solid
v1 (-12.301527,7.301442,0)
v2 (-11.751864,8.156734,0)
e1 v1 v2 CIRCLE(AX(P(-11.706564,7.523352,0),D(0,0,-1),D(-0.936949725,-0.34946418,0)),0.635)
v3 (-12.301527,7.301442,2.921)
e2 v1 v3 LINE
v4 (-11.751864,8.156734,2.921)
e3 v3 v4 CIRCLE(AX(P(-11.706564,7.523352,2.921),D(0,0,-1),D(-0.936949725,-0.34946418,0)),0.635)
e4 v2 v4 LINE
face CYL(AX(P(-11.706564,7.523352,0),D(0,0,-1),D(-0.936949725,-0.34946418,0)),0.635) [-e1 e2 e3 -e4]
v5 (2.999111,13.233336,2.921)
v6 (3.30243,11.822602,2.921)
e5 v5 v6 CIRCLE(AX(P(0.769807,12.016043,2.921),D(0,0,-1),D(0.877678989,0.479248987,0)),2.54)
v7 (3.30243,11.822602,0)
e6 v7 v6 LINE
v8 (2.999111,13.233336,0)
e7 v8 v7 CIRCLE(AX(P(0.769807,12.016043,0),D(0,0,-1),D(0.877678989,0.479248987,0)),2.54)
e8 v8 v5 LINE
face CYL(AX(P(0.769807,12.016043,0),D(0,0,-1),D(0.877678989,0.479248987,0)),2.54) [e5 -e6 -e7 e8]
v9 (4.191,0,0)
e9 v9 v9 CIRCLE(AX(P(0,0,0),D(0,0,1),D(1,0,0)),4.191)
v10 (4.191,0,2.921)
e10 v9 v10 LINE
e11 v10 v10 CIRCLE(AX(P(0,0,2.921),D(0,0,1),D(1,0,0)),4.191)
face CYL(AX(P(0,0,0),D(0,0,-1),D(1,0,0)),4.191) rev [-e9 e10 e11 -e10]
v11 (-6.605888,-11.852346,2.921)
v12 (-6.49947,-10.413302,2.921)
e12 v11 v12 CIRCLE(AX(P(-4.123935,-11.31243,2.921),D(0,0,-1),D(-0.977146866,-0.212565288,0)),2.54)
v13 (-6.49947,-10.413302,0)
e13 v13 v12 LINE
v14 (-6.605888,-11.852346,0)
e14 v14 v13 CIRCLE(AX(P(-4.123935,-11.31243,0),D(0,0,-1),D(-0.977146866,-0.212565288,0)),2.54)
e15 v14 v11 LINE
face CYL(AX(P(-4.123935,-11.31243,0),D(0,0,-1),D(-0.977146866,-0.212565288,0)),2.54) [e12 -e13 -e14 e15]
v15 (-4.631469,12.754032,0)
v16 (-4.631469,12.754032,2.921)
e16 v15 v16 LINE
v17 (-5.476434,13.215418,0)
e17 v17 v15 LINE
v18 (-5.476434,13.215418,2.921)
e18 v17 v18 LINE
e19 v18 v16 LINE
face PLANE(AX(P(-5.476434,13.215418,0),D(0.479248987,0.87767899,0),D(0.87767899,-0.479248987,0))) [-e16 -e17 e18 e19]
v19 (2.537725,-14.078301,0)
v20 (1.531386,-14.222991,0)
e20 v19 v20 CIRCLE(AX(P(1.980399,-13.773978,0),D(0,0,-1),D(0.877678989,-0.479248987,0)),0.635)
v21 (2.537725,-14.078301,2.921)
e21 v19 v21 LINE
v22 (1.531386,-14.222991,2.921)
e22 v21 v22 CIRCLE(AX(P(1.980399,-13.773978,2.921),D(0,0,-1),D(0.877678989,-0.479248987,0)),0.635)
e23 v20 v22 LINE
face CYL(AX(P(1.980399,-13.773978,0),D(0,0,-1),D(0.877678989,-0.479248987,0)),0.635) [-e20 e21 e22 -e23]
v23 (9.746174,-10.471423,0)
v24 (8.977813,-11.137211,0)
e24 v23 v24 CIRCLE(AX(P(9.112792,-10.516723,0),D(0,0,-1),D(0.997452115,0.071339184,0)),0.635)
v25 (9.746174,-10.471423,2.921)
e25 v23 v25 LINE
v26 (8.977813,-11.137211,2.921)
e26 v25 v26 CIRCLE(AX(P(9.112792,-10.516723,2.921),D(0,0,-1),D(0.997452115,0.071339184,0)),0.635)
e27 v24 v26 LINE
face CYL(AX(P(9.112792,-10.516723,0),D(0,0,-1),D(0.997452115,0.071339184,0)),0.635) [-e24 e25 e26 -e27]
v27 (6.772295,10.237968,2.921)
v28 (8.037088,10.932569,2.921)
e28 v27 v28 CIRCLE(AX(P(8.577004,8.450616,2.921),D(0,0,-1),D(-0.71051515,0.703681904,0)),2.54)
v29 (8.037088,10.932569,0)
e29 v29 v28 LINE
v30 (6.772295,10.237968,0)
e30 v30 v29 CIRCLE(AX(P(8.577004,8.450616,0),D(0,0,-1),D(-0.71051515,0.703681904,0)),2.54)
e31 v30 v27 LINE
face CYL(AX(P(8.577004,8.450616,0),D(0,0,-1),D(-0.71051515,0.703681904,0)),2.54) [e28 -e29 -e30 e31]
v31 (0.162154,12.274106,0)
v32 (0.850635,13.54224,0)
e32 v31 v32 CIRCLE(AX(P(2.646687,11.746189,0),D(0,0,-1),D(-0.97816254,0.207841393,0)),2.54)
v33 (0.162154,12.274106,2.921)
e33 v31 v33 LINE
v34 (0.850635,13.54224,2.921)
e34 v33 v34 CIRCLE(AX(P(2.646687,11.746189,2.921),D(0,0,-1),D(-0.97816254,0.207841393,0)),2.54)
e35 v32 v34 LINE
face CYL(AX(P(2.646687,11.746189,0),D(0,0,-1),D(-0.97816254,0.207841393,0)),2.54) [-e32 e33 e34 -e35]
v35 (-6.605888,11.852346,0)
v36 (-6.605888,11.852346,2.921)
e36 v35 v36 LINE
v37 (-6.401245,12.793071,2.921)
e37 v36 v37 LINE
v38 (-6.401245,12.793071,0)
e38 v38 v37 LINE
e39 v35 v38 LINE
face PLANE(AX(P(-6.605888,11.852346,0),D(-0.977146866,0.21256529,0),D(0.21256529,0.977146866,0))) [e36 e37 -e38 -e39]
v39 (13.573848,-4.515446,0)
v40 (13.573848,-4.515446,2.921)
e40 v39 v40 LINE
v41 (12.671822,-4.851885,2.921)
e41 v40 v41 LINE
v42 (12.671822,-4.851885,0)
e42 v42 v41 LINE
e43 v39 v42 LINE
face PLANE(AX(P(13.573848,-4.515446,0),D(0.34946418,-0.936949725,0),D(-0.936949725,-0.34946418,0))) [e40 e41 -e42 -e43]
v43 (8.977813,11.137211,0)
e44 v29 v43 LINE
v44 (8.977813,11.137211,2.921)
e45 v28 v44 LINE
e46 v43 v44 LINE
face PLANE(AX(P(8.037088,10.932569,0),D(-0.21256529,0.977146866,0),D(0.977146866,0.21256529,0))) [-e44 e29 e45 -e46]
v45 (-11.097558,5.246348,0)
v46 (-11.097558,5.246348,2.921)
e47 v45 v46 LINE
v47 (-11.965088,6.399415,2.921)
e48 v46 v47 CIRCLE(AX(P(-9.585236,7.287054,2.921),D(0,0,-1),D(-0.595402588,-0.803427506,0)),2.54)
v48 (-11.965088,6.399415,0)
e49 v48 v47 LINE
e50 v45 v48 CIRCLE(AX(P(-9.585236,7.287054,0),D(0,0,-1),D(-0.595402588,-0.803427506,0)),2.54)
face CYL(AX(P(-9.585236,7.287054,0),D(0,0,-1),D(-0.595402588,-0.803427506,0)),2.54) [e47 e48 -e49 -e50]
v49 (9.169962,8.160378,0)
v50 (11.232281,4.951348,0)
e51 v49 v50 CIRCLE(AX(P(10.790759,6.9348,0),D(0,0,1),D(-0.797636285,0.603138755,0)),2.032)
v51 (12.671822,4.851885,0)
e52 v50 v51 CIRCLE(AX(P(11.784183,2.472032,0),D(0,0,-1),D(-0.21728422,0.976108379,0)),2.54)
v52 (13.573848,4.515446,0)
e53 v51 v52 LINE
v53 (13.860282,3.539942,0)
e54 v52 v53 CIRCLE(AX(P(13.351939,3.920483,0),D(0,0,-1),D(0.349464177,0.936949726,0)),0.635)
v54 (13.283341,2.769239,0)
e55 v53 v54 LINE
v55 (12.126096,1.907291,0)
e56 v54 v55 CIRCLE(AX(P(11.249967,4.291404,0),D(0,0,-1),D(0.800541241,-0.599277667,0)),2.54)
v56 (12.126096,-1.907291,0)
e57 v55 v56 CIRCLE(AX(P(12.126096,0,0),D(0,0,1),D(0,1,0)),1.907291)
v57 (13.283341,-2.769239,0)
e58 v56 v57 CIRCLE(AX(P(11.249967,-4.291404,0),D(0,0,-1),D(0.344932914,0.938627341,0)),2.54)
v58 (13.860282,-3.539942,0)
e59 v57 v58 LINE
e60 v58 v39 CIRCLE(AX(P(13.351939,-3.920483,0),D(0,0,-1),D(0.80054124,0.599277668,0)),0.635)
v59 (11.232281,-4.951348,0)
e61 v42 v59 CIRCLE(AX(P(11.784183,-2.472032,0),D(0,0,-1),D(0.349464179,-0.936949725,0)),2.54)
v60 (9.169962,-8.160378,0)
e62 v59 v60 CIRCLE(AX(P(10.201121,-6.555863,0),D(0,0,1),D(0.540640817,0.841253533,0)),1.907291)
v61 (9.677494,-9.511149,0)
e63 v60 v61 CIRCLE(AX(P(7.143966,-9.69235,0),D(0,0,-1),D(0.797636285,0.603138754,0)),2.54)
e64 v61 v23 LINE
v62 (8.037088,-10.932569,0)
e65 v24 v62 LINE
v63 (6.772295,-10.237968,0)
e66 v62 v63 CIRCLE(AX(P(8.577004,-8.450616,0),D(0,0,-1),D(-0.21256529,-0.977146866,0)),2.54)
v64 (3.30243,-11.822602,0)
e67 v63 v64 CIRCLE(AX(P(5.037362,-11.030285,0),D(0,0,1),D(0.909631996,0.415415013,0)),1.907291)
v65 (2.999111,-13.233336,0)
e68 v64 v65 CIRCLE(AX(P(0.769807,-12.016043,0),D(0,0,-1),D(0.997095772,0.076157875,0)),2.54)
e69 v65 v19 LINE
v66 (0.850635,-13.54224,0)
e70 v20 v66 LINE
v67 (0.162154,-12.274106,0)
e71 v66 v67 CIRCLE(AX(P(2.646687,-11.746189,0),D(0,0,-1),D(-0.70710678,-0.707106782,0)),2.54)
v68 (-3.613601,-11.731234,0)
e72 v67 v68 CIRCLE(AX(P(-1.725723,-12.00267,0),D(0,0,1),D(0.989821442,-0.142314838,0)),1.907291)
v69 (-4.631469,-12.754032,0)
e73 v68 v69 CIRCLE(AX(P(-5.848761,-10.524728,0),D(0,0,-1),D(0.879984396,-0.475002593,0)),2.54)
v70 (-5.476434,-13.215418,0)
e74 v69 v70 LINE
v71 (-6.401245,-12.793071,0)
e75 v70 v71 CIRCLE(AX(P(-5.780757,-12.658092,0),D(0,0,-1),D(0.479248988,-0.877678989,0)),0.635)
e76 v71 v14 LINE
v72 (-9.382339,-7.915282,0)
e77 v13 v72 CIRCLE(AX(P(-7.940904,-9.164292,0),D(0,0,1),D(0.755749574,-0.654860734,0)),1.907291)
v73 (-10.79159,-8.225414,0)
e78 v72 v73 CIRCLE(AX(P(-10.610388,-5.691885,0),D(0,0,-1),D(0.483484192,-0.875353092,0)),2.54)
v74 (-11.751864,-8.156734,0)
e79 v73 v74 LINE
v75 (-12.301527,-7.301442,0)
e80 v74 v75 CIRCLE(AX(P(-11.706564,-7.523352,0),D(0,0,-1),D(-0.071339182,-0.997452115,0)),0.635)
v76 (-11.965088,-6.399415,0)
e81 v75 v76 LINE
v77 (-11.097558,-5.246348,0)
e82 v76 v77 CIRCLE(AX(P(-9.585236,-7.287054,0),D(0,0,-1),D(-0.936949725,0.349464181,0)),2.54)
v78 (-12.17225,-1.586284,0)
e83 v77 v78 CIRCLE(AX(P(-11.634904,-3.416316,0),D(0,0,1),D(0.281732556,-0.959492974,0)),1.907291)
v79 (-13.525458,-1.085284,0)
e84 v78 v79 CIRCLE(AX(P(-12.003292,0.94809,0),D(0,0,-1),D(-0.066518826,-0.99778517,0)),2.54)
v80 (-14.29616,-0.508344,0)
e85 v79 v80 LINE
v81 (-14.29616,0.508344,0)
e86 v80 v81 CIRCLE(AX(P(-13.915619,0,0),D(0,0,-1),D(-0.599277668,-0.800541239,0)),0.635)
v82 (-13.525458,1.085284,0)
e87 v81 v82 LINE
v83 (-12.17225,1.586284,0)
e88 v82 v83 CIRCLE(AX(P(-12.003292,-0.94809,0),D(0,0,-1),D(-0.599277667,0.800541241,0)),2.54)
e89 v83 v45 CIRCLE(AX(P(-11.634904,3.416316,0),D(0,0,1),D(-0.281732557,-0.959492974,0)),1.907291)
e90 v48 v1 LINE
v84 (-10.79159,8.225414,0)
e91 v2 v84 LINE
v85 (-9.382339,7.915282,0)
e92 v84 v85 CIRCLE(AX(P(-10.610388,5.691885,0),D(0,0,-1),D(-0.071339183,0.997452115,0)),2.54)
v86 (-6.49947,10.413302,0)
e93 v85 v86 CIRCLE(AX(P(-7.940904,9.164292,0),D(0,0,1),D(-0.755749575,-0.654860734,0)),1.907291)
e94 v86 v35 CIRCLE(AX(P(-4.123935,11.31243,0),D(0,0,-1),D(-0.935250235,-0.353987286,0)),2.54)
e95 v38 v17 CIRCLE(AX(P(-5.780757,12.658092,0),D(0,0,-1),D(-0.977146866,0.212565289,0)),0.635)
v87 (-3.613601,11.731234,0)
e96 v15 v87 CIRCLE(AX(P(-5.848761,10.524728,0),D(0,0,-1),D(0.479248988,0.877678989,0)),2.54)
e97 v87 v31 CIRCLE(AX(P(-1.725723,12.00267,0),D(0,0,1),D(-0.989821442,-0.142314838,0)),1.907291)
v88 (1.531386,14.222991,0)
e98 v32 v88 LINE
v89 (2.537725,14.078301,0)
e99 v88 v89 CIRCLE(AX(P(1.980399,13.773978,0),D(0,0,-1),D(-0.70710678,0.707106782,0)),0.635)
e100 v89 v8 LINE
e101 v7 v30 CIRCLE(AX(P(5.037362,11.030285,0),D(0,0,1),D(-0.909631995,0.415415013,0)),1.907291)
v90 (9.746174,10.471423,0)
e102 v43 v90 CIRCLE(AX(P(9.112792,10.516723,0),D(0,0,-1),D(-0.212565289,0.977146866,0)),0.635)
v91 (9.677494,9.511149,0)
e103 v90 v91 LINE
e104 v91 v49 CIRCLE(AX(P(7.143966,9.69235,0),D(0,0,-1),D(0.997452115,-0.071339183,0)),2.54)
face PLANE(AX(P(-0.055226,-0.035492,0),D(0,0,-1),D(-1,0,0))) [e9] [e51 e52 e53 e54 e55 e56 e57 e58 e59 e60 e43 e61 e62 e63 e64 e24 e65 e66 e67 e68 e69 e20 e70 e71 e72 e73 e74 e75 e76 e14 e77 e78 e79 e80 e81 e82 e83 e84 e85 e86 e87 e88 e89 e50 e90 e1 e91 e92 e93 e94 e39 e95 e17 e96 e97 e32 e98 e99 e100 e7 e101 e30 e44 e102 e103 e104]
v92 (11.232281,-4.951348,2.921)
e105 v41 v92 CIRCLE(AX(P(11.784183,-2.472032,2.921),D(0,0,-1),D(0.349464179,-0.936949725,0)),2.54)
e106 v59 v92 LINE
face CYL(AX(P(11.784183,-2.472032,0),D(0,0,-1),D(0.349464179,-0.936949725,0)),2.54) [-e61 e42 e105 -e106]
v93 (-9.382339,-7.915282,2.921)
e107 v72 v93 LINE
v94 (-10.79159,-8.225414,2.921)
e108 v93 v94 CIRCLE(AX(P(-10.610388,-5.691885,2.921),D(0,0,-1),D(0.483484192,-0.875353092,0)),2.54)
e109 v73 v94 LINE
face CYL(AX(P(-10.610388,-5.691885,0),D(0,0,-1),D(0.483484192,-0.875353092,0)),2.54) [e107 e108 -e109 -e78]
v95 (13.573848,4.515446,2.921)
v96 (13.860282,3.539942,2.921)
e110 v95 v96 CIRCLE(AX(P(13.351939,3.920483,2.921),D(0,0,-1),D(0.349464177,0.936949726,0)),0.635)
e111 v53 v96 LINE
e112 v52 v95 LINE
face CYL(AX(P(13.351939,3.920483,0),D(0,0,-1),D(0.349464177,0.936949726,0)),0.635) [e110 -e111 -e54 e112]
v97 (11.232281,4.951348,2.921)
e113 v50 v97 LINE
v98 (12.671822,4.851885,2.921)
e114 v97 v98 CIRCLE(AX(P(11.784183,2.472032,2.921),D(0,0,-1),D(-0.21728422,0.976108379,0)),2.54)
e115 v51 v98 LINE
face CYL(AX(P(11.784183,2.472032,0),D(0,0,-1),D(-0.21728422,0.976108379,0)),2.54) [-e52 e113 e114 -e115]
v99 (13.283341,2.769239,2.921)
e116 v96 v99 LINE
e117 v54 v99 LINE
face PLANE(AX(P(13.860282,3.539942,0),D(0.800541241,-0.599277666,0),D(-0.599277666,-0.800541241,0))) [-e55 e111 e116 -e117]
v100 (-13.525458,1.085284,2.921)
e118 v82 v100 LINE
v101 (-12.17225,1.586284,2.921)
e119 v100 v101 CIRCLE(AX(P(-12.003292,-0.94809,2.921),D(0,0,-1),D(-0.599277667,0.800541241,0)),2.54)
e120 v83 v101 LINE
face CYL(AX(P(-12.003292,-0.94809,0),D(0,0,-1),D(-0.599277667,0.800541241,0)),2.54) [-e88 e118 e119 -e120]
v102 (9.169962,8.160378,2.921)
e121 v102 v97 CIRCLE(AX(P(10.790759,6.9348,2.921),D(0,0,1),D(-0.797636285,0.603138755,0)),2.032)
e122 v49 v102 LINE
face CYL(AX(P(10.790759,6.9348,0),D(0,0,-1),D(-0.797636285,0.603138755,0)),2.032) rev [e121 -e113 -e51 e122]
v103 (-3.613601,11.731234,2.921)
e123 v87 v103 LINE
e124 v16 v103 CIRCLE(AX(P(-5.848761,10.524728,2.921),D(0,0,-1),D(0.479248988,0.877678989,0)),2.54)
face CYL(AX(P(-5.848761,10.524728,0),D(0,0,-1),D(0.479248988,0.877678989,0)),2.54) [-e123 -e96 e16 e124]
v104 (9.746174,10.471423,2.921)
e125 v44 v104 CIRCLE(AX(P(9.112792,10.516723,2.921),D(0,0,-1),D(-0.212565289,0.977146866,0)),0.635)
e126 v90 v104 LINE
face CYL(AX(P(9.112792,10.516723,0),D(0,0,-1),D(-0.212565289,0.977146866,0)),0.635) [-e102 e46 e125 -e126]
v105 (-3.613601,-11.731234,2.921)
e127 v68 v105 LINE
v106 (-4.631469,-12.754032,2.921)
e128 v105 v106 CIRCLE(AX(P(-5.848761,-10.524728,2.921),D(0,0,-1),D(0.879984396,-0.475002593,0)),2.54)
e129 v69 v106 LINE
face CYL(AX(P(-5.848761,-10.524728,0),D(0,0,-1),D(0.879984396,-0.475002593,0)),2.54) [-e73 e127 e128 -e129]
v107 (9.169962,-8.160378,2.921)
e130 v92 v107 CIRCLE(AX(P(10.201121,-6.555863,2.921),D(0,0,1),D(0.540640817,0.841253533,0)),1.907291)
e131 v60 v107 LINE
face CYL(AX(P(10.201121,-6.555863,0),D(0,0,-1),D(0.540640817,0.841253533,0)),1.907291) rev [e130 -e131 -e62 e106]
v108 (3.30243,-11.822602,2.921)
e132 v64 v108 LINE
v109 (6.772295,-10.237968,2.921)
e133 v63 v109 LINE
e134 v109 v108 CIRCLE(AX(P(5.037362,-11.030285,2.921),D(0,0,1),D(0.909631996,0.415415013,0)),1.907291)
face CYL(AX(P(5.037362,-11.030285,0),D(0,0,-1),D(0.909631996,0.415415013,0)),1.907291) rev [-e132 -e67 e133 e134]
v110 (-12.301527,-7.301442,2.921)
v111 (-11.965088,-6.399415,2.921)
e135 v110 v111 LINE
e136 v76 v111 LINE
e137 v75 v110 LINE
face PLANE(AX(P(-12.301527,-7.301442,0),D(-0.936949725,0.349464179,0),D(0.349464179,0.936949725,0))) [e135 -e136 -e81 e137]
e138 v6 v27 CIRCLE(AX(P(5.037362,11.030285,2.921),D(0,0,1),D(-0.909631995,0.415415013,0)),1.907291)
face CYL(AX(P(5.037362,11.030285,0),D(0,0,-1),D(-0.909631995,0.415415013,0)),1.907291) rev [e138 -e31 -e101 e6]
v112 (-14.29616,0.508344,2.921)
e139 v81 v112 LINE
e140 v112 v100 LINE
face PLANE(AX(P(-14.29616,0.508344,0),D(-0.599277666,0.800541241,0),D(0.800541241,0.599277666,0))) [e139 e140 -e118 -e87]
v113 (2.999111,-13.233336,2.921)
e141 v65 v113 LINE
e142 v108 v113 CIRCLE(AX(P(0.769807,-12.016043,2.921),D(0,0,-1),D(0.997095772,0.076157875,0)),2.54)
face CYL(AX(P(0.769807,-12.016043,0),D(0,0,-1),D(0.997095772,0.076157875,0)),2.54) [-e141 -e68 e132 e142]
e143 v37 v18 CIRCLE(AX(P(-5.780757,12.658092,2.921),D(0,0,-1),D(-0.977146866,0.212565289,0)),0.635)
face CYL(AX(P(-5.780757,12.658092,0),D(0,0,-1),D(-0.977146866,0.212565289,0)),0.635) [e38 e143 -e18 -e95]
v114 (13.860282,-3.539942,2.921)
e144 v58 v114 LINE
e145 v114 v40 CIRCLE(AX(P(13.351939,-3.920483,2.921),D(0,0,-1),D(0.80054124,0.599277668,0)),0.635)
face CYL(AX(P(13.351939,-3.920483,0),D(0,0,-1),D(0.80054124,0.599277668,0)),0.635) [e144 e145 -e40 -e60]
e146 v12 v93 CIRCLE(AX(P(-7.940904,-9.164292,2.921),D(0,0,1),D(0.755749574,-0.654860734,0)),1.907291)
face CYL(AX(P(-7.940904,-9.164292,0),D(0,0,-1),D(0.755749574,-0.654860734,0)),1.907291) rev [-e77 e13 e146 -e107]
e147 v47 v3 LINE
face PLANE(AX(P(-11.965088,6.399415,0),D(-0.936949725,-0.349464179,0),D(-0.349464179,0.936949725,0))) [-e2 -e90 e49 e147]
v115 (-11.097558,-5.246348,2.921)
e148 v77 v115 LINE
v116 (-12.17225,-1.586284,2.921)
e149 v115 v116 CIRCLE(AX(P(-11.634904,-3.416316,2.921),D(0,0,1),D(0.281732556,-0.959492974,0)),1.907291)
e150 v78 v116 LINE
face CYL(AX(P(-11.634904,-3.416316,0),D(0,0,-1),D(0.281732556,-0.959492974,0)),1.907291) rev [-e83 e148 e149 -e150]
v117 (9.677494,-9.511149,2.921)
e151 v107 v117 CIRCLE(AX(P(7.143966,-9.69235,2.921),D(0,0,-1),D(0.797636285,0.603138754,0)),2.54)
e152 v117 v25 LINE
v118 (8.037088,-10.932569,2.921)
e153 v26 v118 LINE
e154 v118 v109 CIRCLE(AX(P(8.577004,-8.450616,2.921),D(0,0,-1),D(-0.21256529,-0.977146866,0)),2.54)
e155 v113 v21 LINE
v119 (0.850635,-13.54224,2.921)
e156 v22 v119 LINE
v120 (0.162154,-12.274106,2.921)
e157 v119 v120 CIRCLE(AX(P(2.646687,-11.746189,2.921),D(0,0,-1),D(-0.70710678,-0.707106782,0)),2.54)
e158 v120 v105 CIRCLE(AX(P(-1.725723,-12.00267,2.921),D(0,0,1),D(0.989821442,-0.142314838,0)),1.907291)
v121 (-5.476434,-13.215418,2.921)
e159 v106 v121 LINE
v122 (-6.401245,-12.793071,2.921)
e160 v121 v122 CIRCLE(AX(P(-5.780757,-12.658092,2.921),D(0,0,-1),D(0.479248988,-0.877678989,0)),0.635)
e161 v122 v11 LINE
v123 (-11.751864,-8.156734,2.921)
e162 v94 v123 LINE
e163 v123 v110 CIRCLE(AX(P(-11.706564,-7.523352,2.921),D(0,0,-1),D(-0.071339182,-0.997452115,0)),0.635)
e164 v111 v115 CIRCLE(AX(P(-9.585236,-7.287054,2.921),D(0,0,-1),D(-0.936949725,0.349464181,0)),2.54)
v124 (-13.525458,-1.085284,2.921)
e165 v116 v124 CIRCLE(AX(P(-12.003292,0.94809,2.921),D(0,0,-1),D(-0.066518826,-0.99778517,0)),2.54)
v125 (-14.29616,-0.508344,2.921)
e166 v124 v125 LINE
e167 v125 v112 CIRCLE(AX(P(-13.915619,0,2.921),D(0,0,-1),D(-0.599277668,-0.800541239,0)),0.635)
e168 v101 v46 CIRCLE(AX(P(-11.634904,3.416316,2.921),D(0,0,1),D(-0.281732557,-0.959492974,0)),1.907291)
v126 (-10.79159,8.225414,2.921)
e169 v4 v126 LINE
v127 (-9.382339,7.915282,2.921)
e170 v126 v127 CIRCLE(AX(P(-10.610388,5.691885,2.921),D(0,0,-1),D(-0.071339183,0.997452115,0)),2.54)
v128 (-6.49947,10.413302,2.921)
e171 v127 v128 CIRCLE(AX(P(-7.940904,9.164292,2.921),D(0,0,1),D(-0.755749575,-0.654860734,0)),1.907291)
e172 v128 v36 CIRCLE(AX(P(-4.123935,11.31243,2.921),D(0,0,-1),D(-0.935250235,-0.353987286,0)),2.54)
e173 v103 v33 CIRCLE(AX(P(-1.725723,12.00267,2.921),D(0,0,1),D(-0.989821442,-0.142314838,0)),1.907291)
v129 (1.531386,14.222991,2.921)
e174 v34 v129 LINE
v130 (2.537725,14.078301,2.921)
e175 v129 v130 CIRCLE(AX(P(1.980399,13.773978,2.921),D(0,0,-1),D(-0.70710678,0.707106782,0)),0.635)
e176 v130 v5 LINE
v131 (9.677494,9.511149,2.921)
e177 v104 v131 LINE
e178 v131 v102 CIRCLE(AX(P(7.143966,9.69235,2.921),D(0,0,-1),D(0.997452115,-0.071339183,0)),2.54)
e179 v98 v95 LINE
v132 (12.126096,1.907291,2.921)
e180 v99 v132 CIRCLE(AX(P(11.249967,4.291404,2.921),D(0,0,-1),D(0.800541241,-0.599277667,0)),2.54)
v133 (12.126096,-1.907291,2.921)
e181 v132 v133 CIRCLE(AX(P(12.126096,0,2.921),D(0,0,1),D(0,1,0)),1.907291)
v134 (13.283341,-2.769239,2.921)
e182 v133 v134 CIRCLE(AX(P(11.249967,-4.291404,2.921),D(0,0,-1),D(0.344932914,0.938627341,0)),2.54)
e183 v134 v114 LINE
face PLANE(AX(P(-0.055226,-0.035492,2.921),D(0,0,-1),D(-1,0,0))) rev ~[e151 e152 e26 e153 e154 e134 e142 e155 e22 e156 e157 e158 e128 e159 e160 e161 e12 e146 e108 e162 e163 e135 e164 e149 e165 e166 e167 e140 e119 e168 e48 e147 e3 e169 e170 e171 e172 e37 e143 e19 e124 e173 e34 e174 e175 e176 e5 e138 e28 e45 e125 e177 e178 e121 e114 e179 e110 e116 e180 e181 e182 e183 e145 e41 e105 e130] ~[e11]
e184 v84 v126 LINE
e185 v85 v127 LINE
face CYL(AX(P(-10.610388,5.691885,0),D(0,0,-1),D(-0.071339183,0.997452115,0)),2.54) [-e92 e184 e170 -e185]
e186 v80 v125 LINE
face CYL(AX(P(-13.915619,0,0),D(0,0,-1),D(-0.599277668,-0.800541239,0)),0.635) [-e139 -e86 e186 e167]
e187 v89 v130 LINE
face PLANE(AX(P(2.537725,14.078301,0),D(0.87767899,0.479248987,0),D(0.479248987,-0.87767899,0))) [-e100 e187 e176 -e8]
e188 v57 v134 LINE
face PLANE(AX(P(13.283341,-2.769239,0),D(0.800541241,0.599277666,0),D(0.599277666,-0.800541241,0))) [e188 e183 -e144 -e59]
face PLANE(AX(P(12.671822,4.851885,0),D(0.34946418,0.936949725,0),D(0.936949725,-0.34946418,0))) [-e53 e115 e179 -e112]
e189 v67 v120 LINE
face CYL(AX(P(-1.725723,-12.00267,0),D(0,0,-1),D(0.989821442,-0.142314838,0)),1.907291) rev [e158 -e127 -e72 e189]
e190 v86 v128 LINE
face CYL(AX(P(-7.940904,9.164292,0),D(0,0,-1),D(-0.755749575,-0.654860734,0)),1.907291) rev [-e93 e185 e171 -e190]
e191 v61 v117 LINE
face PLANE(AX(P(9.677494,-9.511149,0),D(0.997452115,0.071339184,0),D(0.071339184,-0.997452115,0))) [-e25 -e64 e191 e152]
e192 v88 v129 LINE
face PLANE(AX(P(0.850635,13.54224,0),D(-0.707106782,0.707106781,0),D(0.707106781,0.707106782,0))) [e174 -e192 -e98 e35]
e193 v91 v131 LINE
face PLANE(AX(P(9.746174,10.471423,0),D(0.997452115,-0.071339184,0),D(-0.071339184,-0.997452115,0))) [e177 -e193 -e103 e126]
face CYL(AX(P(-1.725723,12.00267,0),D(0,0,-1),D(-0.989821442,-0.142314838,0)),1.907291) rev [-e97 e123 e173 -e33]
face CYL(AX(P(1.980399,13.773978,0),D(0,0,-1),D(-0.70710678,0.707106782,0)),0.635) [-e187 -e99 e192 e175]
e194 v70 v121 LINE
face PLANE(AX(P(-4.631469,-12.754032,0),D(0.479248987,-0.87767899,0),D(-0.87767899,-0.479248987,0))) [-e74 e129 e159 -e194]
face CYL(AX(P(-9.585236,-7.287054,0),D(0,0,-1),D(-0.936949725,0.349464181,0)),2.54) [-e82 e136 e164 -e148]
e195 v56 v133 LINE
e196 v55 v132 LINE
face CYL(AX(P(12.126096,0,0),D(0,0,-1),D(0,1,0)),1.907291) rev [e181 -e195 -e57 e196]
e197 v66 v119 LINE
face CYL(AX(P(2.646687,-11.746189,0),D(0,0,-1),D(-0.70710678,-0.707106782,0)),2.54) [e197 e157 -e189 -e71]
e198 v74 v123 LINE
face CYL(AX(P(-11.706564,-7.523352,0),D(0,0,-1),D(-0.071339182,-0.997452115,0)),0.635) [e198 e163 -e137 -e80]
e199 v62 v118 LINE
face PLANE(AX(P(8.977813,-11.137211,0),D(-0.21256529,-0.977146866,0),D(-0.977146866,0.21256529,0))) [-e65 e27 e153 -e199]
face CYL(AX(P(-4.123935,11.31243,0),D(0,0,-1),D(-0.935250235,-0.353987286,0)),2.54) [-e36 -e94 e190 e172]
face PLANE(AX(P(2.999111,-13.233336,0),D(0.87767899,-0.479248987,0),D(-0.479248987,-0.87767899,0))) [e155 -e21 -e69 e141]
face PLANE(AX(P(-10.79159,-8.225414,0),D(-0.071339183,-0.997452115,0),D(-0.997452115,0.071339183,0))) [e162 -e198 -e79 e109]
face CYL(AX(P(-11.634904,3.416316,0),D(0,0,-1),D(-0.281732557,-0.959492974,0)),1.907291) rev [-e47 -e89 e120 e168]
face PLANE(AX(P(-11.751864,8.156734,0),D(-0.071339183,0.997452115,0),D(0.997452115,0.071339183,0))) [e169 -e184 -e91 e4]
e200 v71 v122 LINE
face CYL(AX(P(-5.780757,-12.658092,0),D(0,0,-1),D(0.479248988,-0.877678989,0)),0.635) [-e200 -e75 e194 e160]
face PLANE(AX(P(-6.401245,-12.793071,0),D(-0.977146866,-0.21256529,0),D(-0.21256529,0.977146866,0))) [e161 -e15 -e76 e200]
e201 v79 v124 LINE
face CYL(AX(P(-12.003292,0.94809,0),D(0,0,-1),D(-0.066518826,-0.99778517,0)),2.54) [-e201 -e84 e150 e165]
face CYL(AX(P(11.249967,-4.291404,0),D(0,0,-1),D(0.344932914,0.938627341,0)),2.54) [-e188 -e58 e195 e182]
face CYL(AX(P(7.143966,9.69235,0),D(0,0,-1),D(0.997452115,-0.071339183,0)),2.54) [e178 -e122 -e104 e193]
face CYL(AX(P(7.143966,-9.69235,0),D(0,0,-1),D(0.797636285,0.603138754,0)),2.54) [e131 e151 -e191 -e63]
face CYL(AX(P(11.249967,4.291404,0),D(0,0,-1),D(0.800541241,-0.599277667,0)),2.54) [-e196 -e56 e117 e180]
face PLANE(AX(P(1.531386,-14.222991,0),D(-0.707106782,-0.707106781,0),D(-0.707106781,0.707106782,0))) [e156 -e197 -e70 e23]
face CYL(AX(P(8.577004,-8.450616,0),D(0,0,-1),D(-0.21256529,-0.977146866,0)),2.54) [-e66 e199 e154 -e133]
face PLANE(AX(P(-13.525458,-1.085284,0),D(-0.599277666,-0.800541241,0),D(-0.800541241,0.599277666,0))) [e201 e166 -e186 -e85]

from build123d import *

# Parameters (mm, degrees)
SKETCH1_R           = 4.191
BOSS_EXTRUDE1_DEPTH = 2.921


with BuildPart() as part:
    # Sketch1 → Boss-Extrude1 (new body)
    with BuildSketch(Plane.XY):
        with BuildLine():
            Line((8.037087805, 10.932568983), (8.977813448, 11.137211321))
            ThreePointArc((8.977813448, 11.137211321), (9.528628972, 10.996624041), (9.746174499, 10.471422679))
            Line((9.746174499, 10.471422679), (9.677494343, 9.511148627))
            ThreePointArc((9.677494343, 9.511148627), (9.521666859, 8.798964182), (9.169962135, 8.160377715))
            ThreePointArc((9.169962135, 8.160377715), (9.081331887, 5.836217624), (11.232280603, 4.95134754))
            ThreePointArc((11.232280603, 4.95134754), (11.959262708, 5.005991004), (12.671821542, 4.851884559))
            Line((12.671821542, 4.851884559), (13.573848312, 4.515445968))
            ThreePointArc((13.573848312, 4.515445968), (13.961216597, 4.099383066), (13.860282246, 3.539941575))
            Line((13.860282246, 3.539941575), (13.283341474, 2.769238931))
            ThreePointArc((13.283341474, 2.769238931), (12.767215072, 2.254357949), (12.126096321, 1.907290757))
            ThreePointArc((12.126096321, 1.907290757), (10.218805564, 0), (12.126096321, -1.907290757))
            ThreePointArc((12.126096321, -1.907290757), (12.767215072, -2.254357949), (13.283341474, -2.769238931))
            Line((13.283341474, -2.769238931), (13.860282246, -3.539941575))
            ThreePointArc((13.860282246, -3.539941575), (13.961216597, -4.099383066), (13.573848312, -4.515445968))
            Line((13.573848312, -4.515445968), (12.671821542, -4.851884559))
            ThreePointArc((12.671821542, -4.851884559), (11.959262708, -5.005991004), (11.232280603, -4.95134754))
            ThreePointArc((11.232280603, -4.95134754), (8.596606282, -5.524703393), (9.169962135, -8.160377715))
            ThreePointArc((9.169962135, -8.160377715), (9.521666859, -8.798964182), (9.677494343, -9.511148627))
            Line((9.677494343, -9.511148627), (9.746174499, -10.471422679))
            ThreePointArc((9.746174499, -10.471422679), (9.528628972, -10.996624041), (8.977813448, -11.137211321))
            Line((8.977813448, -11.137211321), (8.037087805, -10.932568983))
            ThreePointArc((8.037087805, -10.932568983), (7.354328934, -10.676973184), (6.772295158, -10.237967978))
            ThreePointArc((6.772295158, -10.237967978), (4.245045246, -9.295352495), (3.302429764, -11.822602407))
            ThreePointArc((3.302429764, -11.822602407), (3.253056696, -12.549961458), (2.999111137, -13.233335836))
            Line((2.999111137, -13.233335836), (2.537725212, -14.078301071))
            ThreePointArc((2.537725212, -14.078301071), (2.070768976, -14.40251458), (1.531386247, -14.222990771))
            Line((1.531386247, -14.222990771), (0.850635478, -13.542240001))
            ThreePointArc((0.850635478, -13.542240001), (0.414447687, -12.958091818), (0.162153851, -12.27410592))
            ThreePointArc((0.162153851, -12.27410592), (-1.454287661, -10.114792857), (-3.613600724, -11.731234369))
            ThreePointArc((-3.613600724, -11.731234369), (-4.048375984, -12.316434644), (-4.631468665, -12.75403242))
            Line((-4.631468665, -12.75403242), (-5.4764339, -13.215418345))
            ThreePointArc((-5.4764339, -13.215418345), (-6.04454554, -13.235708504), (-6.401245266, -12.793071146))
            Line((-6.401245266, -12.793071146), (-6.605887604, -11.852345504))
            ThreePointArc((-6.605887604, -11.852345504), (-6.657017772, -11.125107857), (-6.499470159, -10.413301958))
            ThreePointArc((-6.499470159, -10.413301958), (-6.691894511, -7.722857955), (-9.382338515, -7.915282308))
            ThreePointArc((-9.382338515, -7.915282308), (-10.064477893, -8.172526855), (-10.79158989, -8.225413826))
            Line((-10.79158989, -8.225413826), (-11.751863943, -8.15673367))
            ThreePointArc((-11.751863943, -8.15673367), (-12.240759555, -7.866658497), (-12.301526637, -7.301441824))
            Line((-12.301526637, -7.301441824), (-11.965088046, -6.399415053))
            ThreePointArc((-11.965088046, -6.399415053), (-11.614927125, -5.759980758), (-11.097558316, -5.246348201))
            ThreePointArc((-11.097558316, -5.246348201), (-9.804872137, -2.878970219), (-12.172250119, -1.586284041))
            ThreePointArc((-12.172250119, -1.586284041), (-12.885179183, -1.433899534), (-13.525457575, -1.08528446))
            Line((-13.525457575, -1.08528446), (-14.296160219, -0.508343688))
            ThreePointArc((-14.296160219, -0.508343688), (-14.5506189, 0), (-14.296160219, 0.508343688))
            Line((-14.296160219, 0.508343688), (-13.525457575, 1.08528446))
            ThreePointArc((-13.525457575, 1.08528446), (-12.885179183, 1.433899534), (-12.172250119, 1.586284041))
            ThreePointArc((-12.172250119, 1.586284041), (-9.804872137, 2.878970219), (-11.097558316, 5.246348201))
            ThreePointArc((-11.097558316, 5.246348201), (-11.614927125, 5.759980758), (-11.965088046, 6.399415053))
            Line((-11.965088046, 6.399415053), (-12.301526637, 7.301441824))
            ThreePointArc((-12.301526637, 7.301441824), (-12.240759555, 7.866658497), (-11.751863943, 8.15673367))
            Line((-11.751863943, 8.15673367), (-10.79158989, 8.225413826))
            ThreePointArc((-10.79158989, 8.225413826), (-10.064477893, 8.172526855), (-9.382338515, 7.915282308))
            ThreePointArc((-9.382338515, 7.915282308), (-6.691894511, 7.722857955), (-6.499470159, 10.413301958))
            ThreePointArc((-6.499470159, 10.413301958), (-6.657017772, 11.125107857), (-6.605887604, 11.852345504))
            Line((-6.605887604, 11.852345504), (-6.401245266, 12.793071146))
            ThreePointArc((-6.401245266, 12.793071146), (-6.04454554, 13.235708504), (-5.4764339, 13.215418345))
            Line((-5.4764339, 13.215418345), (-4.631468665, 12.75403242))
            ThreePointArc((-4.631468665, 12.75403242), (-4.048375984, 12.316434644), (-3.613600724, 11.731234369))
            ThreePointArc((-3.613600724, 11.731234369), (-1.454287661, 10.114792857), (0.162153851, 12.27410592))
            ThreePointArc((0.162153851, 12.27410592), (0.414447687, 12.958091818), (0.850635478, 13.542240001))
            Line((0.850635478, 13.542240001), (1.531386247, 14.222990771))
            ThreePointArc((1.531386247, 14.222990771), (2.070768976, 14.40251458), (2.537725212, 14.078301071))
            Line((2.537725212, 14.078301071), (2.999111137, 13.233335836))
            ThreePointArc((2.999111137, 13.233335836), (3.253056696, 12.549961458), (3.302429764, 11.822602407))
            ThreePointArc((3.302429764, 11.822602407), (4.245045246, 9.295352495), (6.772295158, 10.237967978))
            ThreePointArc((6.772295158, 10.237967978), (7.354328934, 10.676973184), (8.037087805, 10.932568983))
        make_face()
        Circle(SKETCH1_R, mode=Mode.SUBTRACT)
    extrude(amount=BOSS_EXTRUDE1_DEPTH)


solid = part.part
